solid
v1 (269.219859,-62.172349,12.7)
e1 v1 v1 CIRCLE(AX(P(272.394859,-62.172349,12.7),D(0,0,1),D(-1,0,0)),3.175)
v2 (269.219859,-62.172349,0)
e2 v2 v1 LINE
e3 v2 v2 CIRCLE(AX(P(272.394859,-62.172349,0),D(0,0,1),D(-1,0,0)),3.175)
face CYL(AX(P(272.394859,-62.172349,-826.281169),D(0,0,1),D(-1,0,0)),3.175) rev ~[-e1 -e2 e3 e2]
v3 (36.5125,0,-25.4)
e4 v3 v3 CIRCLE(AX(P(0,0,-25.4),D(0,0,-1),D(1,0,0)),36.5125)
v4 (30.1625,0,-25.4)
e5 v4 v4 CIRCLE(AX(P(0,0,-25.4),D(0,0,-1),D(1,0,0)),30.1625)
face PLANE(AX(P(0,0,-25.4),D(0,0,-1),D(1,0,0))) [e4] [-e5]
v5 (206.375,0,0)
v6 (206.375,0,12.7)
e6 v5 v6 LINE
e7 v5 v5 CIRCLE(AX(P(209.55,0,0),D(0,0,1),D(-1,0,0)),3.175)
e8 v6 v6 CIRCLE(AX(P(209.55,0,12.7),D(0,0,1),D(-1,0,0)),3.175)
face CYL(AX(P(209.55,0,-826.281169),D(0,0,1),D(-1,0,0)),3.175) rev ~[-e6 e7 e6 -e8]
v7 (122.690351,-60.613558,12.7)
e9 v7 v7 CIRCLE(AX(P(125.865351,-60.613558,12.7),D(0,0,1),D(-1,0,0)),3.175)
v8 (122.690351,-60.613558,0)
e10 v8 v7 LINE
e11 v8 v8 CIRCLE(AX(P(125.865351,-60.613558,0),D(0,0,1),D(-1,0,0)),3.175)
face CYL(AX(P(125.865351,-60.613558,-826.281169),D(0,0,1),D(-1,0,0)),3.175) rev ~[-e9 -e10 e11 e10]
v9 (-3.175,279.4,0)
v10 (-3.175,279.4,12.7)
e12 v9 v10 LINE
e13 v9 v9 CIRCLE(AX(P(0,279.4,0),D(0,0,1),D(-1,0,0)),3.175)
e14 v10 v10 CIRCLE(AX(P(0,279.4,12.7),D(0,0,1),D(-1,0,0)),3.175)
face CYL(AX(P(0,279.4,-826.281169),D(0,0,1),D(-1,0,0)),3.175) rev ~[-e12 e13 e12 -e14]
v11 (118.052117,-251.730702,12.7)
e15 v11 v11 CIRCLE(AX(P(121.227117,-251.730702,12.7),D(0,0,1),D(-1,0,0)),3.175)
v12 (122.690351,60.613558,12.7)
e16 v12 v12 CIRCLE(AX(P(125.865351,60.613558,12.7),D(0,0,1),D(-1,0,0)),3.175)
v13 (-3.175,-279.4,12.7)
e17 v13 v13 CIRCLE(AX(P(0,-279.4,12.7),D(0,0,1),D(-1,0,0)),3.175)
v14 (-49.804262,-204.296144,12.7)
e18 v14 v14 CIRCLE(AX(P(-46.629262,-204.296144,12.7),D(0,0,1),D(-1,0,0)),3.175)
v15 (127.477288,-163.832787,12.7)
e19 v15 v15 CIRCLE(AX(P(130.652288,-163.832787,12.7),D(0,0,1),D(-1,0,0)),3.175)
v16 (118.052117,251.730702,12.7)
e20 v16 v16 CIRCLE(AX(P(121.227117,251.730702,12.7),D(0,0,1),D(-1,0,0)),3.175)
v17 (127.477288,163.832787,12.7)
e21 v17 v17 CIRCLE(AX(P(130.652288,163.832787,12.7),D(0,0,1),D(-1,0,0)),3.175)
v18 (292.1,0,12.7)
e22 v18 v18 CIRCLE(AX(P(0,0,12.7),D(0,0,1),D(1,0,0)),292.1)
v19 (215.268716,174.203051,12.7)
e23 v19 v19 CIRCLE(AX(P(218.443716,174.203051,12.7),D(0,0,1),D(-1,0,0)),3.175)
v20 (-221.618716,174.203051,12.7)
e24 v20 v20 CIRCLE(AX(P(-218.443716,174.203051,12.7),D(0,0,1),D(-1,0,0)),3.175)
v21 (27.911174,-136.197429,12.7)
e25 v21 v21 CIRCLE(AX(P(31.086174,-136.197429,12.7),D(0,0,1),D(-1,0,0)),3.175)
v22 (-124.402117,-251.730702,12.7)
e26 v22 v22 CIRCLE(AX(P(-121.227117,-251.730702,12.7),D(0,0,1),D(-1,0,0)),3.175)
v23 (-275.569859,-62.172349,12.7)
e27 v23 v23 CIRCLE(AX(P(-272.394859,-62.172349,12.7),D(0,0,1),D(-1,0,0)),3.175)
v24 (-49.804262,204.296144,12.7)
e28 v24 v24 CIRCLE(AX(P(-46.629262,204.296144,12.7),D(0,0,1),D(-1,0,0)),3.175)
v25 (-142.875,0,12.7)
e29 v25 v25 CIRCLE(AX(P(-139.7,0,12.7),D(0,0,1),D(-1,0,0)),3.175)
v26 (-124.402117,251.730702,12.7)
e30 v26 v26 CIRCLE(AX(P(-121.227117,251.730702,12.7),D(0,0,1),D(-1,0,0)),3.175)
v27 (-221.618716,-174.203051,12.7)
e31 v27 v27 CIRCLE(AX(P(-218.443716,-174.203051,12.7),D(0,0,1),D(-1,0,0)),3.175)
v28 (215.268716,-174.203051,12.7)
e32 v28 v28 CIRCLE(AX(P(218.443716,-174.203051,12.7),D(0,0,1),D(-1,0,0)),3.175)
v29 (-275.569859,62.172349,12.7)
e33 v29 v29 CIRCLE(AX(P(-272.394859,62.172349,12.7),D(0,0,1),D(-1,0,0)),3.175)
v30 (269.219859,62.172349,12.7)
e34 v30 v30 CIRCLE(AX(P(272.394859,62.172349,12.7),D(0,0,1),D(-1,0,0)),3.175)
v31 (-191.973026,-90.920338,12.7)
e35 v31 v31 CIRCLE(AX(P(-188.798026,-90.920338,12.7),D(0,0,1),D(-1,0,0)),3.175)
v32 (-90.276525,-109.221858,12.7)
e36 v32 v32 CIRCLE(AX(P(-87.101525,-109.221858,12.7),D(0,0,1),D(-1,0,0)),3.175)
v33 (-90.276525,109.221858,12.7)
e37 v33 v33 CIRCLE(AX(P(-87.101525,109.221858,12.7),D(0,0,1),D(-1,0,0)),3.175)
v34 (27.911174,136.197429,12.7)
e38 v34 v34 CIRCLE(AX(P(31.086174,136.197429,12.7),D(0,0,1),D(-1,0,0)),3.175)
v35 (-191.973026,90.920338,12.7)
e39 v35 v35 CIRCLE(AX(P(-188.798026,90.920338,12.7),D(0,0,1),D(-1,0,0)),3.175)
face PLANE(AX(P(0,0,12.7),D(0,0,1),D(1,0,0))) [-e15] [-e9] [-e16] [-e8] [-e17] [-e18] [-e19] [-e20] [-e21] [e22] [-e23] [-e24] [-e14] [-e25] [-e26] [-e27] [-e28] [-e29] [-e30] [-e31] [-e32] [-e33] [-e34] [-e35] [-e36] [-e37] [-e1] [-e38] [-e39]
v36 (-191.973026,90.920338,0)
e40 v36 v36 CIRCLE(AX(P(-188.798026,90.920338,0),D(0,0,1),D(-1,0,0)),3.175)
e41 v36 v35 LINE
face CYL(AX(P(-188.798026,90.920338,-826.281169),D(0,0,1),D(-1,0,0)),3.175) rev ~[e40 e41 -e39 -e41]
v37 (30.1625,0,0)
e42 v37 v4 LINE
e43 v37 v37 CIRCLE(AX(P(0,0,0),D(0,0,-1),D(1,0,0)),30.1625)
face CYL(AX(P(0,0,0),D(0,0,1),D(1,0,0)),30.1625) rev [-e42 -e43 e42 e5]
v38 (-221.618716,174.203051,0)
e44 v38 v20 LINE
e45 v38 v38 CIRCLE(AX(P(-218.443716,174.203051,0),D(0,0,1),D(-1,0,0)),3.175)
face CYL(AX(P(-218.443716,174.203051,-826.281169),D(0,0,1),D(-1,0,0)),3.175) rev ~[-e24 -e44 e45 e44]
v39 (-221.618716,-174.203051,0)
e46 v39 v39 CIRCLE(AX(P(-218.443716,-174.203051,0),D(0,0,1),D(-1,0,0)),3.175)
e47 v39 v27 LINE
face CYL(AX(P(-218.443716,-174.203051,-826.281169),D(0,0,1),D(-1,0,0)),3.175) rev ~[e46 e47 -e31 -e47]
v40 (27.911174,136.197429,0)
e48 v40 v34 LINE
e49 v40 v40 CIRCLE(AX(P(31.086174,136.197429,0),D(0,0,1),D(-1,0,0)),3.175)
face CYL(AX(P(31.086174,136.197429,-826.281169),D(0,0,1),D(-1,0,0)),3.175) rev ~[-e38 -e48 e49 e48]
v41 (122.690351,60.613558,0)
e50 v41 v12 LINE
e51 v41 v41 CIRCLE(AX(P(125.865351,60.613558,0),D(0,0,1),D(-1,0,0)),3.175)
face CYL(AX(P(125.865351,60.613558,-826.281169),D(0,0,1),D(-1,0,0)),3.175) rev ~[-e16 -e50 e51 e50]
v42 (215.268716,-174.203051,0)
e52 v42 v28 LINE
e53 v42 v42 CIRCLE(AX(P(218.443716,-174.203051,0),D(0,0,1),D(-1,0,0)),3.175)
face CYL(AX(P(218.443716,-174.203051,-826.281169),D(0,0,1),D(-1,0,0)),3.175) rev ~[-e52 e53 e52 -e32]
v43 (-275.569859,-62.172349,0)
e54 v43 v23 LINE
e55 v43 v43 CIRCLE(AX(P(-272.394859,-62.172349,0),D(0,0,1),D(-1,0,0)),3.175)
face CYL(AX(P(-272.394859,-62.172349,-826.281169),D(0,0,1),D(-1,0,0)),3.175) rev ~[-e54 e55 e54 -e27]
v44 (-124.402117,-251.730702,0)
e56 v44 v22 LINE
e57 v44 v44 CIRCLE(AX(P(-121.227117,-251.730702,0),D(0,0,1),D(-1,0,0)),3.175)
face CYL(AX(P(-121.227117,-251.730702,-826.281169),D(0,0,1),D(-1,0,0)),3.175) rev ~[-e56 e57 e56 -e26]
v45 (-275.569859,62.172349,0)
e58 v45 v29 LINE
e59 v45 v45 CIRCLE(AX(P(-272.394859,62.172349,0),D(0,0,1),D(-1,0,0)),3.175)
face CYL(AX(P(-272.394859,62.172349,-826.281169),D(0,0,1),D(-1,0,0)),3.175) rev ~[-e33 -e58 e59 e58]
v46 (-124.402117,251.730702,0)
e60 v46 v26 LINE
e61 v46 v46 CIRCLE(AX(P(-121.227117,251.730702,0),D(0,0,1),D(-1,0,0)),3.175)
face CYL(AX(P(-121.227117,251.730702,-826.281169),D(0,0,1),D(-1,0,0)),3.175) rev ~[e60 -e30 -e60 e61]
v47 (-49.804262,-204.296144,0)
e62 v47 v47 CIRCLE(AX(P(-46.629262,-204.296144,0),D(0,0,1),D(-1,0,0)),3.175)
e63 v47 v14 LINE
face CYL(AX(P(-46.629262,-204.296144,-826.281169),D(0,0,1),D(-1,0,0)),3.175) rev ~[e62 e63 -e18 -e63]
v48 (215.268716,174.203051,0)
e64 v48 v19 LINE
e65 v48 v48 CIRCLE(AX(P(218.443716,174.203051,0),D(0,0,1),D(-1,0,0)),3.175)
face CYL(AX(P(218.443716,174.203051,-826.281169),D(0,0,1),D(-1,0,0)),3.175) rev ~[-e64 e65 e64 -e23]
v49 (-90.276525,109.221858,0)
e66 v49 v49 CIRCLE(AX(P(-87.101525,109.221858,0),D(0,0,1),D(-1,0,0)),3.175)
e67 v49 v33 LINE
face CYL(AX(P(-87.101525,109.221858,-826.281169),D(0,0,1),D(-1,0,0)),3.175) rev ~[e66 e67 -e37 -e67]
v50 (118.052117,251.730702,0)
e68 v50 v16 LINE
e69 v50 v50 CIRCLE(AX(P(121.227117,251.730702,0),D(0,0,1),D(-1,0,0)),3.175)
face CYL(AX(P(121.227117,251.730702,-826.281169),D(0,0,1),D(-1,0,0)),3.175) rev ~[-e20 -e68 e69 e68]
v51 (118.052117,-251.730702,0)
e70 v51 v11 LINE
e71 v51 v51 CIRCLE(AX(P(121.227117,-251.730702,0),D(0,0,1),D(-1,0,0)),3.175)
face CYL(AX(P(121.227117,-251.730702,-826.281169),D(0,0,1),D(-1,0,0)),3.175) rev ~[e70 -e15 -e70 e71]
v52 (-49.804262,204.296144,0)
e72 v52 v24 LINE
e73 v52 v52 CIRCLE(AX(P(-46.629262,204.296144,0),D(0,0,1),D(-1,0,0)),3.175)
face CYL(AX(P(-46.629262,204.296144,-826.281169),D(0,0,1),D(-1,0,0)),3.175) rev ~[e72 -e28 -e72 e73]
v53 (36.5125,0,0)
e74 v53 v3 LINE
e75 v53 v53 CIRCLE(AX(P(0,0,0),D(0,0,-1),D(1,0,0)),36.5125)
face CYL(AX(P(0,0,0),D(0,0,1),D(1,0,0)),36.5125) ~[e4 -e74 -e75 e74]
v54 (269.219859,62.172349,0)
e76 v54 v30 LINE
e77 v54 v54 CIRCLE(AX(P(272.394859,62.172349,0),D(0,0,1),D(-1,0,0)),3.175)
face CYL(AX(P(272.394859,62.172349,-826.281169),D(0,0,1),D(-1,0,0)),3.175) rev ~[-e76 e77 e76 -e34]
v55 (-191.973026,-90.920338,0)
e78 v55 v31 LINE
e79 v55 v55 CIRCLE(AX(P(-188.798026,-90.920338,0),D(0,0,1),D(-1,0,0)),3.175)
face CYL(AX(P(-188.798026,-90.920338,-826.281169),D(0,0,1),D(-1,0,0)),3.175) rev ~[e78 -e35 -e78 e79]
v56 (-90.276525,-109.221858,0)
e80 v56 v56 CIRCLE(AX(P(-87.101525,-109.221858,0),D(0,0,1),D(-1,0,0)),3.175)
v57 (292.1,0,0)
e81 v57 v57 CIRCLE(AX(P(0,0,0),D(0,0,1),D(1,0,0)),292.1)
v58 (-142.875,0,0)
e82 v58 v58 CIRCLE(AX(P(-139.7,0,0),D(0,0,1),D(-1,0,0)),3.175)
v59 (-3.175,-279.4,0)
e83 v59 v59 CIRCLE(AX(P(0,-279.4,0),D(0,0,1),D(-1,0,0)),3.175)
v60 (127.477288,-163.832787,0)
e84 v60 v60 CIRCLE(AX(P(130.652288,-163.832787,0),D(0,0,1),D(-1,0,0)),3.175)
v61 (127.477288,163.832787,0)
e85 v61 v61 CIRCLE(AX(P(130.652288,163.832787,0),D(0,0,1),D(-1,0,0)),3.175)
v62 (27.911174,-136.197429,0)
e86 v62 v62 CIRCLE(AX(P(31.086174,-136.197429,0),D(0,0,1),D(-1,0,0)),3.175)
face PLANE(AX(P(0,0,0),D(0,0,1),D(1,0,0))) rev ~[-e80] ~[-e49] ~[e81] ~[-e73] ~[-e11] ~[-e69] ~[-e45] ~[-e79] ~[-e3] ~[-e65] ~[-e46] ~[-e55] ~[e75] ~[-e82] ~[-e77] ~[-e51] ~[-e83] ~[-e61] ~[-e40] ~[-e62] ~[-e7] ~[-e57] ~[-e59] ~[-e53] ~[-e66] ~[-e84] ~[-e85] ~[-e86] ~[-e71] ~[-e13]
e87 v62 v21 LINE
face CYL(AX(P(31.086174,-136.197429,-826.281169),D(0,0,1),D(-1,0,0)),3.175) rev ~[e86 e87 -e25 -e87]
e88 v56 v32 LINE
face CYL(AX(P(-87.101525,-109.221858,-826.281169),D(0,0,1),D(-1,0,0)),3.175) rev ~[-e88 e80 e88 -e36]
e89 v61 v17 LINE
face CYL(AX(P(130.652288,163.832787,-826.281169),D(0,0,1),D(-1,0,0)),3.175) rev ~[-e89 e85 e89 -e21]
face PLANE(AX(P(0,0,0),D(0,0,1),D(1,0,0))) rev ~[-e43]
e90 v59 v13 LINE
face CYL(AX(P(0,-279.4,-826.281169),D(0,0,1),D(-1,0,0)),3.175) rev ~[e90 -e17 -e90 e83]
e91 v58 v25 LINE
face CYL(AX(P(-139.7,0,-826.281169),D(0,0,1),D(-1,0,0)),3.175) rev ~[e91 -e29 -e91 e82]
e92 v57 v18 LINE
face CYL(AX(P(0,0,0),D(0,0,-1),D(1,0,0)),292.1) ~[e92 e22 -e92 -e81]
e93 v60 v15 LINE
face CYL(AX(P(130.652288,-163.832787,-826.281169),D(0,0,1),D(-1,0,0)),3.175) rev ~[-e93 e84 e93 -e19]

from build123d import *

# Parameters (mm, degrees)
F0_R     = 292.1
F1_DEPTH = 12.7
F2_D     = 6.35
F3_R     = 36.5125
F3_R_2   = 30.1625
F4_DEPTH = 25.4


with BuildPart() as f1:
    # F0 (on Top) → F1 (new body)
    with BuildSketch(Plane.XY):
        Circle(F0_R)
        with BuildLine():
            ThreePointArc((272.3948586636, 62.1723489474), (277.6431914442, 31.2828746233), (279.4, 0))
            ThreePointArc((279.4, 0), (277.6431914442, -31.2828746233), (272.3948586636, -62.1723489474))
            ThreePointArc((272.3948586636, -62.1723489474), (251.7307016919, -121.2271167094), (218.4437162016, -174.2030506393))
            ThreePointArc((218.4437162016, -174.2030506393), (174.2030506393, -218.4437162016), (121.2271167094, -251.7307016919))
            ThreePointArc((121.2271167094, -251.7307016919), (62.1723489474, -272.3948586636), (0, -279.4))
            ThreePointArc((0, -279.4), (-62.1723489474, -272.3948586636), (-121.2271167094, -251.7307016919))
            ThreePointArc((-121.2271167094, -251.7307016919), (-174.2030506393, -218.4437162016), (-218.4437162016, -174.2030506393))
            ThreePointArc((-218.4437162016, -174.2030506393), (-251.7307016919, -121.2271167094), (-272.3948586636, -62.1723489474))
            ThreePointArc((-272.3948586636, -62.1723489474), (-279.4, 0), (-272.3948586636, 62.1723489474))
            ThreePointArc((-272.3948586636, 62.1723489474), (-251.7307016919, 121.2271167094), (-218.4437162016, 174.2030506393))
            ThreePointArc((-218.4437162016, 174.2030506393), (-174.2030506393, 218.4437162016), (-121.2271167094, 251.7307016919))
            ThreePointArc((-121.2271167094, 251.7307016919), (-62.1723489474, 272.3948586636), (0, 279.4))
            ThreePointArc((0, 279.4), (62.1723489474, 272.3948586636), (121.2271167094, 251.7307016919))
            ThreePointArc((121.2271167094, 251.7307016919), (174.2030506393, 218.4437162016), (218.4437162016, 174.2030506393))
            ThreePointArc((218.4437162016, 174.2030506393), (251.7307016919, 121.2271167094), (272.3948586636, 62.1723489474))
        make_face(mode=Mode.SUBTRACT)
        with BuildLine():
            ThreePointArc((-46.6292617105, 204.2961439977), (-69.2099774327, 197.7907518661), (-90.9203375321, 188.798026269))
            ThreePointArc((-90.9203375321, 188.798026269), (-130.6522879795, 163.8327871512), (-163.8327871512, 130.6522879795))
            ThreePointArc((-163.8327871512, 130.6522879795), (-177.4310559483, 111.4873216338), (-188.798026269, 90.9203375321))
            Line((-188.798026269, 90.9203375321), (-125.865350846, 60.6135583547))
            ThreePointArc((-125.865350846, 60.6135583547), (-109.2218581008, 87.1015253197), (-87.1015253197, 109.2218581008))
            ThreePointArc((-87.1015253197, 109.2218581008), (-60.6135583547, 125.865350846), (-31.0861744737, 136.1974293318))
            Line((-31.0861744737, 136.1974293318), (-46.6292617105, 204.2961439977))
        make_face()
        with BuildLine():
            ThreePointArc((130.6522879795, 163.8327871512), (111.4873216338, 177.4310559483), (90.9203375321, 188.798026269))
            ThreePointArc((90.9203375321, 188.798026269), (46.6292617105, 204.2961439977), (0, 209.55))
            ThreePointArc((0, 209.55), (-23.4621559674, 208.2323935831), (-46.6292617105, 204.2961439977))
            Line((-46.6292617105, 204.2961439977), (-31.0861744737, 136.1974293318))
            ThreePointArc((-31.0861744737, 136.1974293318), (0, 139.7), (31.0861744737, 136.1974293318))
            ThreePointArc((31.0861744737, 136.1974293318), (60.6135583547, 125.865350846), (87.1015253197, 109.2218581008))
            Line((87.1015253197, 109.2218581008), (130.6522879795, 163.8327871512))
        make_face()
        with BuildLine():
            ThreePointArc((0, -209.55), (46.6292617105, -204.2961439977), (90.9203375321, -188.798026269))
            ThreePointArc((90.9203375321, -188.798026269), (111.4873216338, -177.4310559483), (130.6522879795, -163.8327871512))
            Line((130.6522879795, -163.8327871512), (87.1015253197, -109.2218581008))
            ThreePointArc((87.1015253197, -109.2218581008), (60.6135583547, -125.865350846), (31.0861744737, -136.1974293318))
            ThreePointArc((31.0861744737, -136.1974293318), (0, -139.7), (-31.0861744737, -136.1974293318))
            Line((-31.0861744737, -136.1974293318), (-46.6292617105, -204.2961439977))
            ThreePointArc((-46.6292617105, -204.2961439977), (-23.4621559674, -208.2323935831), (0, -209.55))
        make_face()
        with BuildLine():
            ThreePointArc((163.8327871512, -130.6522879795), (188.798026269, -90.9203375321), (204.2961439977, -46.6292617105))
            ThreePointArc((204.2961439977, -46.6292617105), (208.2323935831, -23.4621559674), (209.55, 0))
            Line((209.55, 0), (139.7, 0))
            ThreePointArc((139.7, 0), (136.1974293318, -31.0861744737), (125.865350846, -60.6135583547))
            ThreePointArc((125.865350846, -60.6135583547), (109.2218581008, -87.1015253197), (87.1015253197, -109.2218581008))
            Line((87.1015253197, -109.2218581008), (130.6522879795, -163.8327871512))
            ThreePointArc((130.6522879795, -163.8327871512), (148.1742259976, -148.1742259976), (163.8327871512, -130.6522879795))
        make_face()
        with BuildLine():
            ThreePointArc((-125.865350846, -60.6135583547), (-136.1974293318, -31.0861744737), (-139.7, 0))
            ThreePointArc((-139.7, 0), (-136.1974293318, 31.0861744737), (-125.865350846, 60.6135583547))
            Line((-125.865350846, 60.6135583547), (-188.798026269, 90.9203375321))
            ThreePointArc((-188.798026269, 90.9203375321), (-197.7907518661, 69.2099774327), (-204.2961439977, 46.6292617105))
            ThreePointArc((-204.2961439977, 46.6292617105), (-209.55, 0), (-204.2961439977, -46.6292617105))
            ThreePointArc((-204.2961439977, -46.6292617105), (-197.7907518661, -69.2099774327), (-188.798026269, -90.9203375321))
            Line((-188.798026269, -90.9203375321), (-125.865350846, -60.6135583547))
        make_face()
        with BuildLine():
            ThreePointArc((209.55, 0), (208.2323935831, 23.4621559674), (204.2961439977, 46.6292617105))
            ThreePointArc((204.2961439977, 46.6292617105), (188.798026269, 90.9203375321), (163.8327871512, 130.6522879795))
            ThreePointArc((163.8327871512, 130.6522879795), (148.1742259976, 148.1742259976), (130.6522879795, 163.8327871512))
            Line((130.6522879795, 163.8327871512), (87.1015253197, 109.2218581008))
            ThreePointArc((87.1015253197, 109.2218581008), (109.2218581008, 87.1015253197), (125.865350846, 60.6135583547))
            ThreePointArc((125.865350846, 60.6135583547), (136.1974293318, 31.0861744737), (139.7, 0))
            Line((139.7, 0), (209.55, 0))
        make_face()
        with BuildLine():
            ThreePointArc((-163.8327871512, -130.6522879795), (-130.6522879795, -163.8327871512), (-90.9203375321, -188.798026269))
            ThreePointArc((-90.9203375321, -188.798026269), (-69.2099774327, -197.7907518661), (-46.6292617105, -204.2961439977))
            Line((-46.6292617105, -204.2961439977), (-31.0861744737, -136.1974293318))
            ThreePointArc((-31.0861744737, -136.1974293318), (-60.6135583547, -125.865350846), (-87.1015253197, -109.2218581008))
            ThreePointArc((-87.1015253197, -109.2218581008), (-109.2218581008, -87.1015253197), (-125.865350846, -60.6135583547))
            Line((-125.865350846, -60.6135583547), (-188.798026269, -90.9203375321))
            ThreePointArc((-188.798026269, -90.9203375321), (-177.4310559483, -111.4873216338), (-163.8327871512, -130.6522879795))
        make_face()
        with BuildLine():
            Line((0, 0), (31.0861744737, 136.1974293318))
            ThreePointArc((31.0861744737, 136.1974293318), (0, 139.7), (-31.0861744737, 136.1974293318))
            ThreePointArc((-31.0861744737, 136.1974293318), (-60.6135583547, 125.865350846), (-87.1015253197, 109.2218581008))
            Line((-87.1015253197, 109.2218581008), (0, 0))
        make_face()
        with BuildLine():
            ThreePointArc((87.1015253197, -109.2218581008), (109.2218581008, -87.1015253197), (125.865350846, -60.6135583547))
            Line((125.865350846, -60.6135583547), (0, 0))
            Line((0, 0), (31.0861744737, -136.1974293318))
            ThreePointArc((31.0861744737, -136.1974293318), (60.6135583547, -125.865350846), (87.1015253197, -109.2218581008))
        make_face()
        with BuildLine():
            Line((31.0861744737, -136.1974293318), (0, 0))
            Line((0, 0), (-87.1015253197, -109.2218581008))
            ThreePointArc((-87.1015253197, -109.2218581008), (-60.6135583547, -125.865350846), (-31.0861744737, -136.1974293318))
            ThreePointArc((-31.0861744737, -136.1974293318), (0, -139.7), (31.0861744737, -136.1974293318))
        make_face()
        with BuildLine():
            ThreePointArc((125.865350846, -60.6135583547), (136.1974293318, -31.0861744737), (139.7, 0))
            ThreePointArc((139.7, 0), (136.1974293318, 31.0861744737), (125.865350846, 60.6135583547))
            Line((125.865350846, 60.6135583547), (0, 0))
            Line((0, 0), (125.865350846, -60.6135583547))
        make_face()
        with BuildLine():
            ThreePointArc((125.865350846, 60.6135583547), (109.2218581008, 87.1015253197), (87.1015253197, 109.2218581008))
            ThreePointArc((87.1015253197, 109.2218581008), (60.6135583547, 125.865350846), (31.0861744737, 136.1974293318))
            Line((31.0861744737, 136.1974293318), (0, 0))
            Line((0, 0), (125.865350846, 60.6135583547))
        make_face()
        with BuildLine():
            Line((-139.7, 0), (0, 0))
            Line((0, 0), (-87.1015253197, 109.2218581008))
            ThreePointArc((-87.1015253197, 109.2218581008), (-109.2218581008, 87.1015253197), (-125.865350846, 60.6135583547))
            ThreePointArc((-125.865350846, 60.6135583547), (-136.1974293318, 31.0861744737), (-139.7, 0))
        make_face()
        with BuildLine():
            Line((-87.1015253197, -109.2218581008), (0, 0))
            Line((0, 0), (-139.7, 0))
            ThreePointArc((-139.7, 0), (-136.1974293318, -31.0861744737), (-125.865350846, -60.6135583547))
            ThreePointArc((-125.865350846, -60.6135583547), (-109.2218581008, -87.1015253197), (-87.1015253197, -109.2218581008))
        make_face()
        with BuildLine():
            Line((-90.9203375321, 188.798026269), (-121.2271167094, 251.7307016919))
            ThreePointArc((-121.2271167094, 251.7307016919), (-174.2030506393, 218.4437162016), (-218.4437162016, 174.2030506393))
            Line((-218.4437162016, 174.2030506393), (-163.8327871512, 130.6522879795))
            ThreePointArc((-163.8327871512, 130.6522879795), (-130.6522879795, 163.8327871512), (-90.9203375321, 188.798026269))
        make_face()
        with BuildLine():
            Line((90.9203375321, 188.798026269), (121.2271167094, 251.7307016919))
            ThreePointArc((121.2271167094, 251.7307016919), (62.1723489474, 272.3948586636), (0, 279.4))
            Line((0, 279.4), (0, 209.55))
            ThreePointArc((0, 209.55), (46.6292617105, 204.2961439977), (90.9203375321, 188.798026269))
        make_face()
        with BuildLine():
            ThreePointArc((272.3948586636, -62.1723489474), (277.6431914442, -31.2828746233), (279.4, 0))
            ThreePointArc((279.4, 0), (277.6431914442, 31.2828746233), (272.3948586636, 62.1723489474))
            Line((272.3948586636, 62.1723489474), (204.2961439977, 46.6292617105))
            ThreePointArc((204.2961439977, 46.6292617105), (208.2323935831, 23.4621559674), (209.55, 0))
            ThreePointArc((209.55, 0), (208.2323935831, -23.4621559674), (204.2961439977, -46.6292617105))
            Line((204.2961439977, -46.6292617105), (272.3948586636, -62.1723489474))
        make_face()
        with BuildLine():
            ThreePointArc((-121.2271167094, -251.7307016919), (-62.1723489474, -272.3948586636), (0, -279.4))
            Line((0, -279.4), (0, -209.55))
            ThreePointArc((0, -209.55), (-23.4621559674, -208.2323935831), (-46.6292617105, -204.2961439977))
            ThreePointArc((-46.6292617105, -204.2961439977), (-69.2099774327, -197.7907518661), (-90.9203375321, -188.798026269))
            Line((-90.9203375321, -188.798026269), (-121.2271167094, -251.7307016919))
        make_face()
        with BuildLine():
            Line((0, 209.55), (0, 279.4))
            ThreePointArc((0, 279.4), (-62.1723489474, 272.3948586636), (-121.2271167094, 251.7307016919))
            Line((-121.2271167094, 251.7307016919), (-90.9203375321, 188.798026269))
            ThreePointArc((-90.9203375321, 188.798026269), (-69.2099774327, 197.7907518661), (-46.6292617105, 204.2961439977))
            ThreePointArc((-46.6292617105, 204.2961439977), (-23.4621559674, 208.2323935831), (0, 209.55))
        make_face()
        with BuildLine():
            ThreePointArc((218.4437162016, -174.2030506393), (251.7307016919, -121.2271167094), (272.3948586636, -62.1723489474))
            Line((272.3948586636, -62.1723489474), (204.2961439977, -46.6292617105))
            ThreePointArc((204.2961439977, -46.6292617105), (188.798026269, -90.9203375321), (163.8327871512, -130.6522879795))
            Line((163.8327871512, -130.6522879795), (218.4437162016, -174.2030506393))
        make_face()
        with BuildLine():
            Line((163.8327871512, 130.6522879795), (218.4437162016, 174.2030506393))
            ThreePointArc((218.4437162016, 174.2030506393), (174.2030506393, 218.4437162016), (121.2271167094, 251.7307016919))
            Line((121.2271167094, 251.7307016919), (90.9203375321, 188.798026269))
            ThreePointArc((90.9203375321, 188.798026269), (111.4873216338, 177.4310559483), (130.6522879795, 163.8327871512))
            ThreePointArc((130.6522879795, 163.8327871512), (148.1742259976, 148.1742259976), (163.8327871512, 130.6522879795))
        make_face()
        with BuildLine():
            ThreePointArc((-272.3948586636, -62.1723489474), (-251.7307016919, -121.2271167094), (-218.4437162016, -174.2030506393))
            Line((-218.4437162016, -174.2030506393), (-163.8327871512, -130.6522879795))
            ThreePointArc((-163.8327871512, -130.6522879795), (-177.4310559483, -111.4873216338), (-188.798026269, -90.9203375321))
            ThreePointArc((-188.798026269, -90.9203375321), (-197.7907518661, -69.2099774327), (-204.2961439977, -46.6292617105))
            Line((-204.2961439977, -46.6292617105), (-272.3948586636, -62.1723489474))
        make_face()
        with BuildLine():
            Line((-204.2961439977, 46.6292617105), (-272.3948586636, 62.1723489474))
            ThreePointArc((-272.3948586636, 62.1723489474), (-279.4, 0), (-272.3948586636, -62.1723489474))
            Line((-272.3948586636, -62.1723489474), (-204.2961439977, -46.6292617105))
            ThreePointArc((-204.2961439977, -46.6292617105), (-209.55, 0), (-204.2961439977, 46.6292617105))
        make_face()
        with BuildLine():
            Line((204.2961439977, 46.6292617105), (272.3948586636, 62.1723489474))
            ThreePointArc((272.3948586636, 62.1723489474), (251.7307016919, 121.2271167094), (218.4437162016, 174.2030506393))
            Line((218.4437162016, 174.2030506393), (163.8327871512, 130.6522879795))
            ThreePointArc((163.8327871512, 130.6522879795), (188.798026269, 90.9203375321), (204.2961439977, 46.6292617105))
        make_face()
        with BuildLine():
            ThreePointArc((121.2271167094, -251.7307016919), (174.2030506393, -218.4437162016), (218.4437162016, -174.2030506393))
            Line((218.4437162016, -174.2030506393), (163.8327871512, -130.6522879795))
            ThreePointArc((163.8327871512, -130.6522879795), (148.1742259976, -148.1742259976), (130.6522879795, -163.8327871512))
            ThreePointArc((130.6522879795, -163.8327871512), (111.4873216338, -177.4310559483), (90.9203375321, -188.798026269))
            Line((90.9203375321, -188.798026269), (121.2271167094, -251.7307016919))
        make_face()
        with BuildLine():
            ThreePointArc((0, -279.4), (62.1723489474, -272.3948586636), (121.2271167094, -251.7307016919))
            Line((121.2271167094, -251.7307016919), (90.9203375321, -188.798026269))
            ThreePointArc((90.9203375321, -188.798026269), (46.6292617105, -204.2961439977), (0, -209.55))
            Line((0, -209.55), (0, -279.4))
        make_face()
        with BuildLine():
            ThreePointArc((-218.4437162016, -174.2030506393), (-174.2030506393, -218.4437162016), (-121.2271167094, -251.7307016919))
            Line((-121.2271167094, -251.7307016919), (-90.9203375321, -188.798026269))
            ThreePointArc((-90.9203375321, -188.798026269), (-130.6522879795, -163.8327871512), (-163.8327871512, -130.6522879795))
            Line((-163.8327871512, -130.6522879795), (-218.4437162016, -174.2030506393))
        make_face()
        with BuildLine():
            Line((-163.8327871512, 130.6522879795), (-218.4437162016, 174.2030506393))
            ThreePointArc((-218.4437162016, 174.2030506393), (-251.7307016919, 121.2271167094), (-272.3948586636, 62.1723489474))
            Line((-272.3948586636, 62.1723489474), (-204.2961439977, 46.6292617105))
            ThreePointArc((-204.2961439977, 46.6292617105), (-197.7907518661, 69.2099774327), (-188.798026269, 90.9203375321))
            ThreePointArc((-188.798026269, 90.9203375321), (-177.4310559483, 111.4873216338), (-163.8327871512, 130.6522879795))
        make_face()
    extrude(amount=F1_DEPTH)

    # F2 (through all)
    with Locations(Plane(origin=(0, 0, 0), x_dir=(1, 0, 0), z_dir=(0, 0, -1))):
        with Locations((-218.4437162016, -174.2030506393), (-121.2271167094, -251.7307016919), (0, -279.4), (121.2271167094, -251.7307016919), (218.4437162016, -174.2030506393), (272.3948586636, -62.1723489474), (272.3948586636, 62.1723489474), (218.4437162016, 174.2030506393), (121.2271167094, 251.7307016919), (0, 279.4), (-121.2271167094, 251.7307016919), (-218.4437162016, 174.2030506393), (-272.3948586636, 62.1723489474), (-272.3948586636, -62.1723489474), (-188.798026269, -90.9203375321), (-46.6292617105, -204.2961439977), (130.6522879795, -163.8327871512), (209.55, 0), (130.6522879795, 163.8327871512), (-46.6292617105, 204.2961439977), (-188.798026269, 90.9203375321), (-139.7, 0), (-87.1015253197, -109.2218581008), (31.0861744737, -136.1974293318), (125.865350846, -60.6135583547), (125.865350846, 60.6135583547), (31.0861744737, 136.1974293318), (-87.1015253197, 109.2218581008)):
            Hole(F2_D / 2)

    # F3 (on face) → F4 (join)
    with BuildSketch(Plane(origin=(0, 0, 0), x_dir=(1, 0, 0), z_dir=(0, 0, -1))):
        Circle(F3_R)
        Circle(F3_R_2, mode=Mode.SUBTRACT)
    extrude(amount=F4_DEPTH)


solid = f1.part
